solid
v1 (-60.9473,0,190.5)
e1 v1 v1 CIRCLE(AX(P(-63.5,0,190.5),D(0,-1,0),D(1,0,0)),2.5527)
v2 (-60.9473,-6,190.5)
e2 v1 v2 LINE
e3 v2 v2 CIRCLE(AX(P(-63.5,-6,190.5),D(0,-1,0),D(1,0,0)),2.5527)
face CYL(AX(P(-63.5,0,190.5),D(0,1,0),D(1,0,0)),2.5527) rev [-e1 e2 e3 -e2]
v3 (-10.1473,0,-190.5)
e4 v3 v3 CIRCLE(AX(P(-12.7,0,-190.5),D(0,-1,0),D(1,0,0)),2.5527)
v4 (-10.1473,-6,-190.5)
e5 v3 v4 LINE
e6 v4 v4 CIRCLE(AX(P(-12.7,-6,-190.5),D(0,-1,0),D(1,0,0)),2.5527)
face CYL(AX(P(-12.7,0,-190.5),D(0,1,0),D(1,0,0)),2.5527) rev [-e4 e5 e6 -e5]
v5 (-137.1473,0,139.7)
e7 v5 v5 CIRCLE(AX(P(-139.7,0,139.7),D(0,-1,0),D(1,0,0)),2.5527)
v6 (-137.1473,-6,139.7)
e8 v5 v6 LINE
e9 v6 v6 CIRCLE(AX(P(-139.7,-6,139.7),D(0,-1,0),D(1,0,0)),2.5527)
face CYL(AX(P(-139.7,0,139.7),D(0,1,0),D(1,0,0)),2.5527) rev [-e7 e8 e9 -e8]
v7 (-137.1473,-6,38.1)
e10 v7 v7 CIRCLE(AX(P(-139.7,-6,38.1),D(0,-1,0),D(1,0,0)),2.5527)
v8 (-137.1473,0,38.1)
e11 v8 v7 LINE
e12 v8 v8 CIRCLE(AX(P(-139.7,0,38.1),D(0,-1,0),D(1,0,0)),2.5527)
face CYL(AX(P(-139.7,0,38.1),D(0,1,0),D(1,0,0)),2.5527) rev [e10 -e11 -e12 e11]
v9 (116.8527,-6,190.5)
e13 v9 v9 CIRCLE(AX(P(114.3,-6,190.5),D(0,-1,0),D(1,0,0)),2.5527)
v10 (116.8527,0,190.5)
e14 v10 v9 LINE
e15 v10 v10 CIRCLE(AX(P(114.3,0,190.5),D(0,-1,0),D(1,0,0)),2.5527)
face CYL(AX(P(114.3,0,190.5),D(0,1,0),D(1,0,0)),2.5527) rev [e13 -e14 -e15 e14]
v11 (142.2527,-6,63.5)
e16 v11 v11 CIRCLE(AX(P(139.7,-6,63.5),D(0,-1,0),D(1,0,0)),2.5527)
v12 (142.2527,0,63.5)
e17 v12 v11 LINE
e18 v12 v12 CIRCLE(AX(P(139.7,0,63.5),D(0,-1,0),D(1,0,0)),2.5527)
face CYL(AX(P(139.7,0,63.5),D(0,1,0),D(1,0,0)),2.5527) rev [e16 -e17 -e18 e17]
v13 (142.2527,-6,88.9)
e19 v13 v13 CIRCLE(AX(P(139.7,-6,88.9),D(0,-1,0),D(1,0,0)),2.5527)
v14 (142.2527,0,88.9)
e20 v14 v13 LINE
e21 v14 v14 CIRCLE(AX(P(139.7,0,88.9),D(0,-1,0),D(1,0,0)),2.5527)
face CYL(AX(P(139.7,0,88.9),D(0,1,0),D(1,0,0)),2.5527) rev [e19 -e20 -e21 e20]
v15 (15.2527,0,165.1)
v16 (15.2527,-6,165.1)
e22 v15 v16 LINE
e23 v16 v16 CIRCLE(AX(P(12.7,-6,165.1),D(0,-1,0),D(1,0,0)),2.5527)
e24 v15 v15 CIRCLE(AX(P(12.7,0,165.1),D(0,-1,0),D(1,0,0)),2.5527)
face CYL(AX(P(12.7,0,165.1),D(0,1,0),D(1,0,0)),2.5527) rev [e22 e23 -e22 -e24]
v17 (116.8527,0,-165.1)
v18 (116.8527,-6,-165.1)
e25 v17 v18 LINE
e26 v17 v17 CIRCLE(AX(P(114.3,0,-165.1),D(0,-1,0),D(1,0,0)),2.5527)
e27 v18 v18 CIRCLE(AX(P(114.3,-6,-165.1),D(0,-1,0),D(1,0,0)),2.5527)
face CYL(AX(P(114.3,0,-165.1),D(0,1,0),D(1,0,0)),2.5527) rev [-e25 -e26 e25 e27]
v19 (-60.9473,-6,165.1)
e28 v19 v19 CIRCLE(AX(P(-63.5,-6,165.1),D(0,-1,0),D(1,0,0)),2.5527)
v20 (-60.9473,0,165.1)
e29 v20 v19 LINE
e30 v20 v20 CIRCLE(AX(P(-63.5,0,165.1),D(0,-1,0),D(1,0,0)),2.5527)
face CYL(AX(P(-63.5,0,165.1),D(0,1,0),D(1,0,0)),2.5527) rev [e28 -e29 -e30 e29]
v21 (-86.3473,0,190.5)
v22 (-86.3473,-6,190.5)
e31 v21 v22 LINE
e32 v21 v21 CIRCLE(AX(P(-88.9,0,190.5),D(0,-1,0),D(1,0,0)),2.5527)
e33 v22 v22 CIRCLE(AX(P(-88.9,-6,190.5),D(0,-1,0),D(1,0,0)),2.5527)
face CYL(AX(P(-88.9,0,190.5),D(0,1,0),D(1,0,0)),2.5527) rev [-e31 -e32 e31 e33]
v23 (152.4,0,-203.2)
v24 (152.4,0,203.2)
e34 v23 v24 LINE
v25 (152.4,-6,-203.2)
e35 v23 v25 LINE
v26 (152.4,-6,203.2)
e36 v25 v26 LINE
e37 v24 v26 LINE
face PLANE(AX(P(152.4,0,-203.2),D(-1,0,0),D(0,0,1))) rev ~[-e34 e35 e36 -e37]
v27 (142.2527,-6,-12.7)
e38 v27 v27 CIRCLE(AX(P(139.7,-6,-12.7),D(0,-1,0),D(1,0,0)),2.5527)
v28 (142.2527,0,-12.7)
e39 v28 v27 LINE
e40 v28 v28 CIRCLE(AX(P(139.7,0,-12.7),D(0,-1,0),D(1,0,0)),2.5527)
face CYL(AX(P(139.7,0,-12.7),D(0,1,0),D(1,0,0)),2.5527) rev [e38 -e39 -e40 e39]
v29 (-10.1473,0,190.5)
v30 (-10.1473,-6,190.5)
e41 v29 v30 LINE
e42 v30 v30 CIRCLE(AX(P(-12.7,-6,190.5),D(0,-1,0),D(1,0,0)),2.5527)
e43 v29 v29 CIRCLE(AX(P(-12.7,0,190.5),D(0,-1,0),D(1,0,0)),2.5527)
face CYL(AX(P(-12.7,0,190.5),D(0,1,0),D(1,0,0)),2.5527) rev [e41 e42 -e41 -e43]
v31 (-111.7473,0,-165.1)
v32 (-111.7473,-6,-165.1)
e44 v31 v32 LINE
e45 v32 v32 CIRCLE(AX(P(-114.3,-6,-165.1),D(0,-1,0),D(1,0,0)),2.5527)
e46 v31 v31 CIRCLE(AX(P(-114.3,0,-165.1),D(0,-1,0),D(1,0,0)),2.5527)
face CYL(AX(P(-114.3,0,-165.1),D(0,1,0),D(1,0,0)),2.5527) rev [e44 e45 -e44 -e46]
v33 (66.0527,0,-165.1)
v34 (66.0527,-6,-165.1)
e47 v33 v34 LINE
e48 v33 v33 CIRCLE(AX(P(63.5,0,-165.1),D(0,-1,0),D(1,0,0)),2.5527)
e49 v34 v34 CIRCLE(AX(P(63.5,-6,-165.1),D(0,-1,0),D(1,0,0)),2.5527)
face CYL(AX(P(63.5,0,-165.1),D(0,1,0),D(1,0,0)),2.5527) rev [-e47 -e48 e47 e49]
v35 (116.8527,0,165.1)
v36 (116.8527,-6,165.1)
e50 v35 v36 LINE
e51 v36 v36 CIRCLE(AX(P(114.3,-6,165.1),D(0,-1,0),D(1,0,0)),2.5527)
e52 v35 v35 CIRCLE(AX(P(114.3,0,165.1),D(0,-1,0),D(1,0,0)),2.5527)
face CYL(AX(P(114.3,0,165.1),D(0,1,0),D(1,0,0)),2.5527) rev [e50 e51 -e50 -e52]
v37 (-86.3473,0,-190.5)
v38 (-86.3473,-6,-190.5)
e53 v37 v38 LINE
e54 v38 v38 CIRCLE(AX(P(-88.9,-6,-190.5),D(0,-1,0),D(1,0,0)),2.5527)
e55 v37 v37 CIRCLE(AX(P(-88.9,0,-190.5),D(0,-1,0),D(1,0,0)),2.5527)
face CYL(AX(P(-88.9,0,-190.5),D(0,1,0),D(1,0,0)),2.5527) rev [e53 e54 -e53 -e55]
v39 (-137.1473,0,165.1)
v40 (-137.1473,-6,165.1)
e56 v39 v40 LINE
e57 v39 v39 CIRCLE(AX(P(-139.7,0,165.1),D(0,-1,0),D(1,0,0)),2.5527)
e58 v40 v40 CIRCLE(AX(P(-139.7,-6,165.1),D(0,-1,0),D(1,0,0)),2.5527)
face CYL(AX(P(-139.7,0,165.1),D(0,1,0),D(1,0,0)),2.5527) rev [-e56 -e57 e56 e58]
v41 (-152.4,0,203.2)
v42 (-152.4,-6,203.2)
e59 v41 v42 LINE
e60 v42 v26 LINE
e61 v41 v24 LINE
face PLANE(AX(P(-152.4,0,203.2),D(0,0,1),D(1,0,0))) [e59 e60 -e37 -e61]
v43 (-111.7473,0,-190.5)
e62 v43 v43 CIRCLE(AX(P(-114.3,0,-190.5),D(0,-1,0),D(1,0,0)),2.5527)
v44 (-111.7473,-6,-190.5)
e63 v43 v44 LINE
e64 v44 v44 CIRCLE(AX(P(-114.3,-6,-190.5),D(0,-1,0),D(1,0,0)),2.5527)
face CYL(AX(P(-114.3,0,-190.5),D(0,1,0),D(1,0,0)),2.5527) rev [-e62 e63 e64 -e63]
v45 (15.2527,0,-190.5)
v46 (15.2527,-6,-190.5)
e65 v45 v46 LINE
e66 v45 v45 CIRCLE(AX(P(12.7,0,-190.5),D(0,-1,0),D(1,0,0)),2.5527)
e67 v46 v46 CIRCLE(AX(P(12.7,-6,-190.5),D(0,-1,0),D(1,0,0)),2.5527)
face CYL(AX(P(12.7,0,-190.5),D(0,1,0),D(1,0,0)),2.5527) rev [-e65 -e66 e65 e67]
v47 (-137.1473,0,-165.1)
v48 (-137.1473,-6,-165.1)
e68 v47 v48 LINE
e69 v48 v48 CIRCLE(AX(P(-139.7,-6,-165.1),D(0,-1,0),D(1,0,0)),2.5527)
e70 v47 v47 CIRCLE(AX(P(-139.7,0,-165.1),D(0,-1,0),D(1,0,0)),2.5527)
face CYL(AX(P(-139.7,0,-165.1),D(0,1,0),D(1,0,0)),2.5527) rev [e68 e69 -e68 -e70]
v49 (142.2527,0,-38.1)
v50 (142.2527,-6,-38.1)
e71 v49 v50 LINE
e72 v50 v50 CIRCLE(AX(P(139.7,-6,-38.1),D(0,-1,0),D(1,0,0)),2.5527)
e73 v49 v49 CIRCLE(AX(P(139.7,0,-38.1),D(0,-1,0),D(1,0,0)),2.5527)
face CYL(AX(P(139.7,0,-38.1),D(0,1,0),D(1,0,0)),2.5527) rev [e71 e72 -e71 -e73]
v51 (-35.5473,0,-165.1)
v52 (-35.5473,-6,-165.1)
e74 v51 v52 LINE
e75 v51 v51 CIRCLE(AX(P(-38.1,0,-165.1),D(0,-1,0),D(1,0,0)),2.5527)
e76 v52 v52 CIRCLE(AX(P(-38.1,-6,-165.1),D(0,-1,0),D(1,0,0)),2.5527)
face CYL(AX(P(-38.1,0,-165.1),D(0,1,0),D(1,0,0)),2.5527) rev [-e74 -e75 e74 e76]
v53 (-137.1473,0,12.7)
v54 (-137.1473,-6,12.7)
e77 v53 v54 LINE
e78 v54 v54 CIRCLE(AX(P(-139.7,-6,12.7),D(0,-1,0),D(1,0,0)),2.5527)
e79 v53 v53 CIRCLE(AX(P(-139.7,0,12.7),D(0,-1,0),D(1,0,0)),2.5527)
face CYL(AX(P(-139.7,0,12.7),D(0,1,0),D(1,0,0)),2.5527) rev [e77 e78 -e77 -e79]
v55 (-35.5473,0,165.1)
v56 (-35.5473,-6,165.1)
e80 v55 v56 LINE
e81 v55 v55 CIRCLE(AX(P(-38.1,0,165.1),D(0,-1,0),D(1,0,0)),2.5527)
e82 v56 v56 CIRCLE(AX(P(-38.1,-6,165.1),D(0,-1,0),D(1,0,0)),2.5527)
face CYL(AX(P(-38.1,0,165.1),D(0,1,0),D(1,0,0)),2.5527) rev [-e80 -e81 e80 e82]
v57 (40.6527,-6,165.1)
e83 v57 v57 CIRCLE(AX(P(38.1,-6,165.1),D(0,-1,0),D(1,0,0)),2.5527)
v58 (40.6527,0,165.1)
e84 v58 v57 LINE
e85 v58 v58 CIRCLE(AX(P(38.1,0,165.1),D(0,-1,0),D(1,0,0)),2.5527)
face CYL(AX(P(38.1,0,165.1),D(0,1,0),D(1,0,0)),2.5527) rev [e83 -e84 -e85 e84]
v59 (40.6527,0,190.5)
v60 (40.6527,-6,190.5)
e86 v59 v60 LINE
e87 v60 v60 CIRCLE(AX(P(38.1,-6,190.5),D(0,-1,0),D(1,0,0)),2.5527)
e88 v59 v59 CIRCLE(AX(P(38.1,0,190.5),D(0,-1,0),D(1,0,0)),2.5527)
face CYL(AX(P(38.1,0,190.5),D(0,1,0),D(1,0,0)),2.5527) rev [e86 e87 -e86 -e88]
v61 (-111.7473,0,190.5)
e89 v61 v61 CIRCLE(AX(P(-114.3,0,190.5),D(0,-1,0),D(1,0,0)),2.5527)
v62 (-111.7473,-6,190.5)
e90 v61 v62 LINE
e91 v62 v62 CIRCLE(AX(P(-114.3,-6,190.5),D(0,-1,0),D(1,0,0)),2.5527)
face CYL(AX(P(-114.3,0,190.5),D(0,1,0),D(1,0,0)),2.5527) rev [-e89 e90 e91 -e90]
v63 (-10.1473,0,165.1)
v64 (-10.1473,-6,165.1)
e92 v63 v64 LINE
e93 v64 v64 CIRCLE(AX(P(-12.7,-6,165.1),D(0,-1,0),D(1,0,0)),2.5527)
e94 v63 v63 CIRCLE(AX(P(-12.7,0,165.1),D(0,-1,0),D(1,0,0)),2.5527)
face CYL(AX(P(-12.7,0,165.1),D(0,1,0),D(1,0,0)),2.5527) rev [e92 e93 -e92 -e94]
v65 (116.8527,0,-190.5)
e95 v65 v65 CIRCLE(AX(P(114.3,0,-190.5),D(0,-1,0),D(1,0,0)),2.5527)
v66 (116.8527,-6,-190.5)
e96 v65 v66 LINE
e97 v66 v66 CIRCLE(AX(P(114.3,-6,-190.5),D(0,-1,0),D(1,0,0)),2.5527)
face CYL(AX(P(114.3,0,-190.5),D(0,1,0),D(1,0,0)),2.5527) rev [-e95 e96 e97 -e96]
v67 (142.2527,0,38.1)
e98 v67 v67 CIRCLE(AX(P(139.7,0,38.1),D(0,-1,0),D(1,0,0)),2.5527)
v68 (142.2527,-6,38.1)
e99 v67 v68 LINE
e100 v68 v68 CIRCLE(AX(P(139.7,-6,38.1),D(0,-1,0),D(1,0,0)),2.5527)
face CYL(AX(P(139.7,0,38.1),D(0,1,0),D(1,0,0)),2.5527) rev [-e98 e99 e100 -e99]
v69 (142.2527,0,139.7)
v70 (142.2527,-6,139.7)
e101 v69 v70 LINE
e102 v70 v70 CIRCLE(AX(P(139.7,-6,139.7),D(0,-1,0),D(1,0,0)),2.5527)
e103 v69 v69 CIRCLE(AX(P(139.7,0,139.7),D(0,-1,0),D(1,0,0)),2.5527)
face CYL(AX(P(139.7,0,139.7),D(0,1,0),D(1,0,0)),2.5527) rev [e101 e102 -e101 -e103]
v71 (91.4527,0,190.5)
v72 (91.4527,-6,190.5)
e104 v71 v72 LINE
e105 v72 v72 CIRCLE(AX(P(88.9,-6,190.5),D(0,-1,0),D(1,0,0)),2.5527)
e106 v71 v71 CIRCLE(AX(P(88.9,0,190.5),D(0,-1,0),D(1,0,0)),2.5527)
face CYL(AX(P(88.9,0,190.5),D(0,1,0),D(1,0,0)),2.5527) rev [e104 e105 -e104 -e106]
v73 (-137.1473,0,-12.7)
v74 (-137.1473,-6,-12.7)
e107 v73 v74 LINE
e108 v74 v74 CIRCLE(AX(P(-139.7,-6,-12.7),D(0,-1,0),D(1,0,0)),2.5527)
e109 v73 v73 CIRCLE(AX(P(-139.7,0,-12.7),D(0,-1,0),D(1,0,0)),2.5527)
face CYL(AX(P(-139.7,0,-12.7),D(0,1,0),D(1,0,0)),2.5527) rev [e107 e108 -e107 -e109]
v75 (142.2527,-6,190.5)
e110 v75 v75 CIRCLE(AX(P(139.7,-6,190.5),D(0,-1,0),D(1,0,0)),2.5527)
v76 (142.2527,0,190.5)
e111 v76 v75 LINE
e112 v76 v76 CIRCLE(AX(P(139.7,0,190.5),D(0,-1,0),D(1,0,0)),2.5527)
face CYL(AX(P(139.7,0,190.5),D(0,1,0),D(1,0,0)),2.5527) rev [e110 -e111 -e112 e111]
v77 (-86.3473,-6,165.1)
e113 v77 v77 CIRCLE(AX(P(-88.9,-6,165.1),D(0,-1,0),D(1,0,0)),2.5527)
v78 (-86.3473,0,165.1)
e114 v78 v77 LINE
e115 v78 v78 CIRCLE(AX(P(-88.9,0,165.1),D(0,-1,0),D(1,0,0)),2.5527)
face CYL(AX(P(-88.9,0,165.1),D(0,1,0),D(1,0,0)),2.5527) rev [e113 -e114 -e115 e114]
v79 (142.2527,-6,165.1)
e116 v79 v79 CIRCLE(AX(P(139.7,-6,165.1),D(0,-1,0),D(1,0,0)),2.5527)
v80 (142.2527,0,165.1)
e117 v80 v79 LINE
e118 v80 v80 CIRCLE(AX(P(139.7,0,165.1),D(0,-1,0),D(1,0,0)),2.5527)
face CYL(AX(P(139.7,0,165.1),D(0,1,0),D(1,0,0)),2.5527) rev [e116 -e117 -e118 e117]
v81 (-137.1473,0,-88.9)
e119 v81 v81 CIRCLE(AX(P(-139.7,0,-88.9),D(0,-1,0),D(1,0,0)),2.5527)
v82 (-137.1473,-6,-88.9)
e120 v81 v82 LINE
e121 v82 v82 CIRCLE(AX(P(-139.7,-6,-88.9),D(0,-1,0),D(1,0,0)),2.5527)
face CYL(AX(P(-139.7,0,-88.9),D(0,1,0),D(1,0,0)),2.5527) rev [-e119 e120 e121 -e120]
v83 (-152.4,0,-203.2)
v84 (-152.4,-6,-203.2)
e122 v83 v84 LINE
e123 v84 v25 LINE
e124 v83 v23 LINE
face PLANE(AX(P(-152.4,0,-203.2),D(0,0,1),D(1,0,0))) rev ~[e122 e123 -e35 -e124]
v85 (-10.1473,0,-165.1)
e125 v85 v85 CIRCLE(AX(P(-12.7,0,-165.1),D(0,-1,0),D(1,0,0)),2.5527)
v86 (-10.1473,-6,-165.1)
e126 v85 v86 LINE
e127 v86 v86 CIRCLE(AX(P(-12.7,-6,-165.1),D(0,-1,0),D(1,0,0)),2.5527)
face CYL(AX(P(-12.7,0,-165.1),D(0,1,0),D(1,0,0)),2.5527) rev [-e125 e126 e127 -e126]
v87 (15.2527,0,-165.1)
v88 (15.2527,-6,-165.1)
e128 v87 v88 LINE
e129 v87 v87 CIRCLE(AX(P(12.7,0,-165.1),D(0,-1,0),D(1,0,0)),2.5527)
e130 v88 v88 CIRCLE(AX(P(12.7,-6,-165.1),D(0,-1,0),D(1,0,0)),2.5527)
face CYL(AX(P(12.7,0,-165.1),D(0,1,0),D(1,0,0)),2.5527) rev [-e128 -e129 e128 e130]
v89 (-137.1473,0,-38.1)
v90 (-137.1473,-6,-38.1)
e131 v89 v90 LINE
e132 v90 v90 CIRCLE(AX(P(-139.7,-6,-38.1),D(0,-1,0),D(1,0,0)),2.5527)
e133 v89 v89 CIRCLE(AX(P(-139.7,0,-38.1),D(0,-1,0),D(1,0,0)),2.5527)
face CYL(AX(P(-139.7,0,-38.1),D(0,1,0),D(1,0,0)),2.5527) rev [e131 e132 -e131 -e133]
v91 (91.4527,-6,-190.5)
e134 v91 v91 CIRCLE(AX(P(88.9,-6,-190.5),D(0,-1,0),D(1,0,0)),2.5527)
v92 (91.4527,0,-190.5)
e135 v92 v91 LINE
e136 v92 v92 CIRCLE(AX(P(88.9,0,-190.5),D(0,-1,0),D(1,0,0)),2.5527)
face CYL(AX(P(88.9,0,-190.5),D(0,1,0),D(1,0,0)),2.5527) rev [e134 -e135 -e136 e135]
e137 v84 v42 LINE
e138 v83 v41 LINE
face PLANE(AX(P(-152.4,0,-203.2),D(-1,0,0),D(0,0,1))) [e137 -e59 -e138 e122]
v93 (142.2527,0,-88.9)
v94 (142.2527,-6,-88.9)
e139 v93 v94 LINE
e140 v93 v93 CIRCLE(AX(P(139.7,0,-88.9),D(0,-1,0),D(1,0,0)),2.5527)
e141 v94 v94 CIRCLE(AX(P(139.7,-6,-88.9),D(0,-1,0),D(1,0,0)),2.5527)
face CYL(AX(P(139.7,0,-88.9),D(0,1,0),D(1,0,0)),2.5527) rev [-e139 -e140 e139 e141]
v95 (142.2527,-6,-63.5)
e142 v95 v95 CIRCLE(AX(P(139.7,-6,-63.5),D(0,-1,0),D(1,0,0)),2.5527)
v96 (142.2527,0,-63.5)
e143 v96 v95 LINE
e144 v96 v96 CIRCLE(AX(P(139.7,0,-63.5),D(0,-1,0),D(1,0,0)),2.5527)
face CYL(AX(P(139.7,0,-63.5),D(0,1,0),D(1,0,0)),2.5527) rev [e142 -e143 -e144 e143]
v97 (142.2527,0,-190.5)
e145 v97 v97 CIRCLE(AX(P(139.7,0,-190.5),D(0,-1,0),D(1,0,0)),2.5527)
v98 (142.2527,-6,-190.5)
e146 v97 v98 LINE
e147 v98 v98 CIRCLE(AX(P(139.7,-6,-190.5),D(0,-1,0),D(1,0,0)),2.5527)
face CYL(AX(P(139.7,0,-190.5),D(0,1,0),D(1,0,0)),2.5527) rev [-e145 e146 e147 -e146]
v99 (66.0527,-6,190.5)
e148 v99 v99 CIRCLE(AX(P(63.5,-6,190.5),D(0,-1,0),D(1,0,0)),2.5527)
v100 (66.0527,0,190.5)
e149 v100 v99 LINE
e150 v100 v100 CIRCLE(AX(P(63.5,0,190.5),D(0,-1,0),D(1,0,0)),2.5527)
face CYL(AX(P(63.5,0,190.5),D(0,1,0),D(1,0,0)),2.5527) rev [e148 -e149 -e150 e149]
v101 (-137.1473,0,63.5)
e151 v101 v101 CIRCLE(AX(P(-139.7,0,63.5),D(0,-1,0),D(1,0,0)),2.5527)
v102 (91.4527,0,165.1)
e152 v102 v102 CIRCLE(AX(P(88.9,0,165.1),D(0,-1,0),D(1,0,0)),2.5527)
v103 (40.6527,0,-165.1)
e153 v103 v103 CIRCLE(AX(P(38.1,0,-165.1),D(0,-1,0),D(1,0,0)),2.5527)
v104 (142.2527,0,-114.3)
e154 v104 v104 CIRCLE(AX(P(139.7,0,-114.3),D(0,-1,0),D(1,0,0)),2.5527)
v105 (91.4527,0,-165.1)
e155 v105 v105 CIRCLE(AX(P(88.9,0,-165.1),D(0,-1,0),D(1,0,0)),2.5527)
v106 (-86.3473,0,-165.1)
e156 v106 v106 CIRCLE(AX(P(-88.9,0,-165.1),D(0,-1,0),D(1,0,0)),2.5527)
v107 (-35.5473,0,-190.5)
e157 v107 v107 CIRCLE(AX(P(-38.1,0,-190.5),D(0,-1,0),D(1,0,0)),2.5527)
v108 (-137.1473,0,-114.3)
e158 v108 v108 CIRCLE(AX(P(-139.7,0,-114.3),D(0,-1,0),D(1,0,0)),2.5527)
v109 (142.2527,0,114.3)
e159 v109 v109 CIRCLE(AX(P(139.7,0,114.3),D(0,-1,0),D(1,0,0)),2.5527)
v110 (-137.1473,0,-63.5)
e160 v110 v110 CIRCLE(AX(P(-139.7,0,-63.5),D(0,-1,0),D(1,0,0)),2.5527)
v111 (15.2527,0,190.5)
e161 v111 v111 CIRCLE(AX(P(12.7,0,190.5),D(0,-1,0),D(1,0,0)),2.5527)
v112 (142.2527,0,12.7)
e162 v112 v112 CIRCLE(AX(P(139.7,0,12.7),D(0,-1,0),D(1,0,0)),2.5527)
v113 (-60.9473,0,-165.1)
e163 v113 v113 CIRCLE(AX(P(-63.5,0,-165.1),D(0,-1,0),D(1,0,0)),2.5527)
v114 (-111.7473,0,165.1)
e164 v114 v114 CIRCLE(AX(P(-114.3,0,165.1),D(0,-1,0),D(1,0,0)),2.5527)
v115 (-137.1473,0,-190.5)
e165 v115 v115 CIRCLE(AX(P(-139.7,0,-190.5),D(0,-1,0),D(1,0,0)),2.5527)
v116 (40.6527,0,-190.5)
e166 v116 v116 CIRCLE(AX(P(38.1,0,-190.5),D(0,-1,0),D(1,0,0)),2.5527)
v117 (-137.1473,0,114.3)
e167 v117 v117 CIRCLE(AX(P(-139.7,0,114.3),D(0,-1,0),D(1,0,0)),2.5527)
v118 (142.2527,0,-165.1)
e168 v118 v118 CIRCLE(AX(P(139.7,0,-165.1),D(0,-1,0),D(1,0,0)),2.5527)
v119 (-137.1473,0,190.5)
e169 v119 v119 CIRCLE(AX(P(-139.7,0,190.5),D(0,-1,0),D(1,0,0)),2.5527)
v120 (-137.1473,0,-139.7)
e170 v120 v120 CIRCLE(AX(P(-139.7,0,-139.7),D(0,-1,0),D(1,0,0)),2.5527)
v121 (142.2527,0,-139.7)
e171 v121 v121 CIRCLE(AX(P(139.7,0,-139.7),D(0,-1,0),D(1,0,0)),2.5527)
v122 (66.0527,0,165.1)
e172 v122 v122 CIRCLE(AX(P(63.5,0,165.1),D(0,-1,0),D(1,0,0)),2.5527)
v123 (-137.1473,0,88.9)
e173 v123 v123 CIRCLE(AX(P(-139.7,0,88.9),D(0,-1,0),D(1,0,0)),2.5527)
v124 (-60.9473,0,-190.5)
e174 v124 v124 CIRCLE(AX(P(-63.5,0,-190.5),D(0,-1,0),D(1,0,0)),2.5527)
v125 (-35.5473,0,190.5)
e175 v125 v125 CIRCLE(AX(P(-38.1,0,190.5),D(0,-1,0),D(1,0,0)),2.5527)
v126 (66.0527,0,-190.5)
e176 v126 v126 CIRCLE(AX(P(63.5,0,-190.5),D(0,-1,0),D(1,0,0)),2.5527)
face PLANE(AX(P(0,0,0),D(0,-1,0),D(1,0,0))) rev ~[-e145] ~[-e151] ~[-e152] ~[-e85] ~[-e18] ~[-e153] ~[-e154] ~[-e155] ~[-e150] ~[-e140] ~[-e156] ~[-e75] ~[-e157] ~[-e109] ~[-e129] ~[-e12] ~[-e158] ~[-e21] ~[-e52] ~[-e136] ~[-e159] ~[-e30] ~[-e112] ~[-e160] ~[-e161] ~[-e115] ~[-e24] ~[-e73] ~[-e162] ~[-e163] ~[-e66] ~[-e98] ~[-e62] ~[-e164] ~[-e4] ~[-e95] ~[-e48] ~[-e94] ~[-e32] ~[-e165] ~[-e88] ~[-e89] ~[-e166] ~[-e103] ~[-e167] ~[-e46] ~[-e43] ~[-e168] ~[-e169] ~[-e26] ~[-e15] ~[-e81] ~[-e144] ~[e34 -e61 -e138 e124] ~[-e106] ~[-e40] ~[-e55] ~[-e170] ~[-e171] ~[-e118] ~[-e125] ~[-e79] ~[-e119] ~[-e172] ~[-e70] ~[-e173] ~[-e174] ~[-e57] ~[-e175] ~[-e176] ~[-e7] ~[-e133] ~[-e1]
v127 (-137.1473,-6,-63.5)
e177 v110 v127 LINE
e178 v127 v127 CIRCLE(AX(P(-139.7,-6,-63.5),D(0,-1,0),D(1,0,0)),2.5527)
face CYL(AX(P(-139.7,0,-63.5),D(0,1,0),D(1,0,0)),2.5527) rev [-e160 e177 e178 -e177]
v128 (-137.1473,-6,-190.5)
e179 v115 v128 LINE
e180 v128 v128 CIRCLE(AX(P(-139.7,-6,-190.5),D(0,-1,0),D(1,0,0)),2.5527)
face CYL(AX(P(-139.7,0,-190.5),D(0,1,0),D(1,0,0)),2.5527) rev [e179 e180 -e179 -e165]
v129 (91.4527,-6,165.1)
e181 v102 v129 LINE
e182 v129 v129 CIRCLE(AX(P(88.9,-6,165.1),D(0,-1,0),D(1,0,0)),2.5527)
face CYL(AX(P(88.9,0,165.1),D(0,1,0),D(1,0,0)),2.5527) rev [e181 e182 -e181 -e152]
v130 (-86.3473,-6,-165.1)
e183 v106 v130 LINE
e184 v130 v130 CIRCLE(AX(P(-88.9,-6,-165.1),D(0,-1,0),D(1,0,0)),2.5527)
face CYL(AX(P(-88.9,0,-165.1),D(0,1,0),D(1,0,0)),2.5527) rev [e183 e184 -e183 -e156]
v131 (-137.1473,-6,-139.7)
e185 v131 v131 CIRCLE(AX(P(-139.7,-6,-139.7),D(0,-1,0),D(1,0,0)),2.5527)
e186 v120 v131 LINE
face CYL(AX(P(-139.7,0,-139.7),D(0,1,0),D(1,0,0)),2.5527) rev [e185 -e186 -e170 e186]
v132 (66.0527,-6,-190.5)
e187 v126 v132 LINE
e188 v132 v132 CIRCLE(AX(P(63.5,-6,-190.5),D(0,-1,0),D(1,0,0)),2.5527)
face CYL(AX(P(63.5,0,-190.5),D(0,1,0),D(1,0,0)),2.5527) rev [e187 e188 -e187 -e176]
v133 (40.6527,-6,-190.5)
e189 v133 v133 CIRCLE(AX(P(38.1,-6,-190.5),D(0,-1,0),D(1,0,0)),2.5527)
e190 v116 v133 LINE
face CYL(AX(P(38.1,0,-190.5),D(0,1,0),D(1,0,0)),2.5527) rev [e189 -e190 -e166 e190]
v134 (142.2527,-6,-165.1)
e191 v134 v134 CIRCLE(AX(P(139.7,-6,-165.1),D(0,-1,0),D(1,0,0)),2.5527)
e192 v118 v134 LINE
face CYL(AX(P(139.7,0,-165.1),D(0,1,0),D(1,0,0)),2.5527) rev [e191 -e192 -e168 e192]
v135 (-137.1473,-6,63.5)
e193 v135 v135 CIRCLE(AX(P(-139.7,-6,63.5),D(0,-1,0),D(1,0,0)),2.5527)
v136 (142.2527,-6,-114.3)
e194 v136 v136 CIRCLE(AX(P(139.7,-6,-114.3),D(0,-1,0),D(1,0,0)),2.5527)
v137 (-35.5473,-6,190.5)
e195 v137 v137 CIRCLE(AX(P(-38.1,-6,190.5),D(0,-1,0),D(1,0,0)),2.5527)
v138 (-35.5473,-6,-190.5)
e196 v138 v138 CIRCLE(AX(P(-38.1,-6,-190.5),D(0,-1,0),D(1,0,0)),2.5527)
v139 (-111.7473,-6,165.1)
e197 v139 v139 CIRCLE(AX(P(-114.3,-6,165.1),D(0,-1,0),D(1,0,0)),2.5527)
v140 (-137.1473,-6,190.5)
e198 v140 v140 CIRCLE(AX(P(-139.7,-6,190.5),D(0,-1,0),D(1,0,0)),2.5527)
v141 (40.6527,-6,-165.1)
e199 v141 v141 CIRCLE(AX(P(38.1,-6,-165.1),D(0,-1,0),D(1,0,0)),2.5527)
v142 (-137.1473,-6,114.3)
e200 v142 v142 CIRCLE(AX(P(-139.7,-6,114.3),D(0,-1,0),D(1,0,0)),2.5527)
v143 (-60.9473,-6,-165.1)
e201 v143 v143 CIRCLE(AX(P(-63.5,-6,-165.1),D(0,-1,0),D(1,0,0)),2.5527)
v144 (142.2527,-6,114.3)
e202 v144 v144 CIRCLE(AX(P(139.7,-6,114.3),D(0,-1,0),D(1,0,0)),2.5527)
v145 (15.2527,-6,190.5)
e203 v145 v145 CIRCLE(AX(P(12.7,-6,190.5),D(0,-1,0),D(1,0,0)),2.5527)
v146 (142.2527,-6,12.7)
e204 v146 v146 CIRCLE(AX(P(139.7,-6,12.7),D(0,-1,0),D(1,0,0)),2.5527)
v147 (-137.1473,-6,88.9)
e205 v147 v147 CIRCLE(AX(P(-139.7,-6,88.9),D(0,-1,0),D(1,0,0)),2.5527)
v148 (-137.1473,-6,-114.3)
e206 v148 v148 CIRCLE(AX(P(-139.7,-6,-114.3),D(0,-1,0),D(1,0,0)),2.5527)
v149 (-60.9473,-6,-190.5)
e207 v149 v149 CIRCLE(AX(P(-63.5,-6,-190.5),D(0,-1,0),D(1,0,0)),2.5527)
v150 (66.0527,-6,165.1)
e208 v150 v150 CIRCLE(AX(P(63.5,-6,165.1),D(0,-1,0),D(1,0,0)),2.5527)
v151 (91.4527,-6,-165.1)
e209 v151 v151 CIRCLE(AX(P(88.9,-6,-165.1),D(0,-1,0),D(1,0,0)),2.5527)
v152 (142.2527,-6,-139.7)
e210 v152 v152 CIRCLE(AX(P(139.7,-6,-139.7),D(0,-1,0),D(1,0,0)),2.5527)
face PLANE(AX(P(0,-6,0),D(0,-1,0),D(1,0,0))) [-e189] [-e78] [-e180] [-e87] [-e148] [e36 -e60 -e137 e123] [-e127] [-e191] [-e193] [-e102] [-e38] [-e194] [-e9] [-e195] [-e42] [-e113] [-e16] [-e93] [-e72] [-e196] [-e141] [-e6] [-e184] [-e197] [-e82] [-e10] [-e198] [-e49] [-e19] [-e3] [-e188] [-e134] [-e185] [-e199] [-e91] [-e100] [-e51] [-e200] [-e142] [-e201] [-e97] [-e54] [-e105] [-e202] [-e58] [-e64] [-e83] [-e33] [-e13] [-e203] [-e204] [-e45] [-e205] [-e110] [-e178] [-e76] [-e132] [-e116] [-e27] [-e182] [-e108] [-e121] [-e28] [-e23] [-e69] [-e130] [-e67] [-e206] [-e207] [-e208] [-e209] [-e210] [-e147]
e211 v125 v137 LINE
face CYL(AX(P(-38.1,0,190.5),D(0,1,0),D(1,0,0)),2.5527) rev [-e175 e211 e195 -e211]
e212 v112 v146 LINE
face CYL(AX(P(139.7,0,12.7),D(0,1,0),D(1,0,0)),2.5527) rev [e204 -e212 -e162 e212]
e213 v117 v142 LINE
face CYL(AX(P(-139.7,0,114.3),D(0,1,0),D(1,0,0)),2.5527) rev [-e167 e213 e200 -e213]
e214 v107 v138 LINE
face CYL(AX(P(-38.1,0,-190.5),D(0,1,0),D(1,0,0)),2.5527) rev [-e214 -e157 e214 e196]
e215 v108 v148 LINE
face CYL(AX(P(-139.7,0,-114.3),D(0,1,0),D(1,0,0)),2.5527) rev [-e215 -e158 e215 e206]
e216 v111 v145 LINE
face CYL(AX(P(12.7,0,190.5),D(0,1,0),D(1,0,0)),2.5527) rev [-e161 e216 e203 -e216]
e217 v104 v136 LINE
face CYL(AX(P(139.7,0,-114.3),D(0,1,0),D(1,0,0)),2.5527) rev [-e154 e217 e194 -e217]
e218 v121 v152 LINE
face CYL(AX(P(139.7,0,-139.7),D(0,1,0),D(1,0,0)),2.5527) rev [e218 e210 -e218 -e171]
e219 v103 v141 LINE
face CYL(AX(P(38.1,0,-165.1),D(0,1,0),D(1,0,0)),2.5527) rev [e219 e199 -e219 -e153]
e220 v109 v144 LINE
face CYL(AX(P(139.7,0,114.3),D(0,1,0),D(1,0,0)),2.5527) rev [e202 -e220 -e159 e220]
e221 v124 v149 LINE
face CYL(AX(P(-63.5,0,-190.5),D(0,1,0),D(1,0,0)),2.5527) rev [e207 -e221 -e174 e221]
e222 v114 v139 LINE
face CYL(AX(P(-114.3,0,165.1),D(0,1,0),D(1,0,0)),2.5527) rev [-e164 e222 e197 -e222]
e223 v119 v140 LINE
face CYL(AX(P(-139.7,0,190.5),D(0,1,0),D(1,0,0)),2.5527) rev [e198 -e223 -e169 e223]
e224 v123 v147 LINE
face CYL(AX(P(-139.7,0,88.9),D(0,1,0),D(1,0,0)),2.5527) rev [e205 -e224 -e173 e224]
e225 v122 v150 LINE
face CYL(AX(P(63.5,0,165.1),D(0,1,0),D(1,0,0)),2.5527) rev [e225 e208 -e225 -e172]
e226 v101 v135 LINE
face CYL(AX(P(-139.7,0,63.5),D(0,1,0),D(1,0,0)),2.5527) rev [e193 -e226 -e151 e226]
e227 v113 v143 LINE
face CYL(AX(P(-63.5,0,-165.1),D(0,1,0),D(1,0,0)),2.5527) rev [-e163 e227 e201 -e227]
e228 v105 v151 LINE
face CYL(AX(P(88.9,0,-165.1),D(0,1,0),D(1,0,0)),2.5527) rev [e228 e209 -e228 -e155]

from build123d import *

# Parameters (mm, degrees)
F0_W     = 304.8
F0_H     = 406.4
F0_R     = 2.5527
F1_DEPTH = 6


with BuildPart() as f1:
    # F0 (on Front) → F1 (new body)
    with BuildSketch(Plane.XZ):
        Rectangle(F0_W, F0_H)
        with Locations((-139.7, -190.5)):
            Circle(F0_R, mode=Mode.SUBTRACT)
        with Locations((-139.7, -165.1)):
            Circle(F0_R, mode=Mode.SUBTRACT)
        with Locations((-114.3, -190.5)):
            Circle(F0_R, mode=Mode.SUBTRACT)
        with Locations((-88.9, -190.5)):
            Circle(F0_R, mode=Mode.SUBTRACT)
        with Locations((-114.3, -165.1)):
            Circle(F0_R, mode=Mode.SUBTRACT)
        with Locations((-88.9, -165.1)):
            Circle(F0_R, mode=Mode.SUBTRACT)
        with Locations((-139.7, -139.7)):
            Circle(F0_R, mode=Mode.SUBTRACT)
        with Locations((-139.7, -114.3)):
            Circle(F0_R, mode=Mode.SUBTRACT)
        with Locations((-63.5, -190.5)):
            Circle(F0_R, mode=Mode.SUBTRACT)
        with Locations((-63.5, -165.1)):
            Circle(F0_R, mode=Mode.SUBTRACT)
        with Locations((-38.1, -190.5)):
            Circle(F0_R, mode=Mode.SUBTRACT)
        with Locations((-12.7, -190.5)):
            Circle(F0_R, mode=Mode.SUBTRACT)
        with Locations((-38.1, -165.1)):
            Circle(F0_R, mode=Mode.SUBTRACT)
        with Locations((-12.7, -165.1)):
            Circle(F0_R, mode=Mode.SUBTRACT)
        with Locations((-139.7, -88.9)):
            Circle(F0_R, mode=Mode.SUBTRACT)
        with Locations((-139.7, -63.5)):
            Circle(F0_R, mode=Mode.SUBTRACT)
        with Locations((-139.7, -38.1)):
            Circle(F0_R, mode=Mode.SUBTRACT)
        with Locations((-139.7, -12.7)):
            Circle(F0_R, mode=Mode.SUBTRACT)
        with Locations((12.7, -190.5)):
            Circle(F0_R, mode=Mode.SUBTRACT)
        with Locations((12.7, -165.1)):
            Circle(F0_R, mode=Mode.SUBTRACT)
        with Locations((38.1, -190.5)):
            Circle(F0_R, mode=Mode.SUBTRACT)
        with Locations((63.5, -190.5)):
            Circle(F0_R, mode=Mode.SUBTRACT)
        with Locations((38.1, -165.1)):
            Circle(F0_R, mode=Mode.SUBTRACT)
        with Locations((63.5, -165.1)):
            Circle(F0_R, mode=Mode.SUBTRACT)
        with Locations((88.9, -190.5)):
            Circle(F0_R, mode=Mode.SUBTRACT)
        with Locations((88.9, -165.1)):
            Circle(F0_R, mode=Mode.SUBTRACT)
        with Locations((114.3, -190.5)):
            Circle(F0_R, mode=Mode.SUBTRACT)
        with Locations((139.7, -190.5)):
            Circle(F0_R, mode=Mode.SUBTRACT)
        with Locations((114.3, -165.1)):
            Circle(F0_R, mode=Mode.SUBTRACT)
        with Locations((139.7, -165.1)):
            Circle(F0_R, mode=Mode.SUBTRACT)
        with Locations((139.7, -139.7)):
            Circle(F0_R, mode=Mode.SUBTRACT)
        with Locations((139.7, -114.3)):
            Circle(F0_R, mode=Mode.SUBTRACT)
        with Locations((139.7, -88.9)):
            Circle(F0_R, mode=Mode.SUBTRACT)
        with Locations((139.7, -63.5)):
            Circle(F0_R, mode=Mode.SUBTRACT)
        with Locations((139.7, -38.1)):
            Circle(F0_R, mode=Mode.SUBTRACT)
        with Locations((139.7, -12.7)):
            Circle(F0_R, mode=Mode.SUBTRACT)
        with Locations((-139.7, 12.7)):
            Circle(F0_R, mode=Mode.SUBTRACT)
        with Locations((-139.7, 38.1)):
            Circle(F0_R, mode=Mode.SUBTRACT)
        with Locations((-139.7, 63.5)):
            Circle(F0_R, mode=Mode.SUBTRACT)
        with Locations((-139.7, 88.9)):
            Circle(F0_R, mode=Mode.SUBTRACT)
        with Locations((-139.7, 114.3)):
            Circle(F0_R, mode=Mode.SUBTRACT)
        with Locations((-139.7, 139.7)):
            Circle(F0_R, mode=Mode.SUBTRACT)
        with Locations((-139.7, 165.1)):
            Circle(F0_R, mode=Mode.SUBTRACT)
        with Locations((-139.7, 190.5)):
            Circle(F0_R, mode=Mode.SUBTRACT)
        with Locations((-114.3, 165.1)):
            Circle(F0_R, mode=Mode.SUBTRACT)
        with Locations((-88.9, 165.1)):
            Circle(F0_R, mode=Mode.SUBTRACT)
        with Locations((-114.3, 190.5)):
            Circle(F0_R, mode=Mode.SUBTRACT)
        with Locations((-88.9, 190.5)):
            Circle(F0_R, mode=Mode.SUBTRACT)
        with Locations((-63.5, 165.1)):
            Circle(F0_R, mode=Mode.SUBTRACT)
        with Locations((-63.5, 190.5)):
            Circle(F0_R, mode=Mode.SUBTRACT)
        with Locations((-38.1, 165.1)):
            Circle(F0_R, mode=Mode.SUBTRACT)
        with Locations((-12.7, 165.1)):
            Circle(F0_R, mode=Mode.SUBTRACT)
        with Locations((-38.1, 190.5)):
            Circle(F0_R, mode=Mode.SUBTRACT)
        with Locations((-12.7, 190.5)):
            Circle(F0_R, mode=Mode.SUBTRACT)
        with Locations((139.7, 12.7)):
            Circle(F0_R, mode=Mode.SUBTRACT)
        with Locations((139.7, 38.1)):
            Circle(F0_R, mode=Mode.SUBTRACT)
        with Locations((139.7, 63.5)):
            Circle(F0_R, mode=Mode.SUBTRACT)
        with Locations((139.7, 88.9)):
            Circle(F0_R, mode=Mode.SUBTRACT)
        with Locations((12.7, 165.1)):
            Circle(F0_R, mode=Mode.SUBTRACT)
        with Locations((12.7, 190.5)):
            Circle(F0_R, mode=Mode.SUBTRACT)
        with Locations((38.1, 165.1)):
            Circle(F0_R, mode=Mode.SUBTRACT)
        with Locations((63.5, 165.1)):
            Circle(F0_R, mode=Mode.SUBTRACT)
        with Locations((38.1, 190.5)):
            Circle(F0_R, mode=Mode.SUBTRACT)
        with Locations((63.5, 190.5)):
            Circle(F0_R, mode=Mode.SUBTRACT)
        with Locations((139.7, 114.3)):
            Circle(F0_R, mode=Mode.SUBTRACT)
        with Locations((139.7, 139.7)):
            Circle(F0_R, mode=Mode.SUBTRACT)
        with Locations((88.9, 165.1)):
            Circle(F0_R, mode=Mode.SUBTRACT)
        with Locations((88.9, 190.5)):
            Circle(F0_R, mode=Mode.SUBTRACT)
        with Locations((114.3, 165.1)):
            Circle(F0_R, mode=Mode.SUBTRACT)
        with Locations((139.7, 165.1)):
            Circle(F0_R, mode=Mode.SUBTRACT)
        with Locations((114.3, 190.5)):
            Circle(F0_R, mode=Mode.SUBTRACT)
        with Locations((139.7, 190.5)):
            Circle(F0_R, mode=Mode.SUBTRACT)
    extrude(amount=F1_DEPTH)


solid = f1.part
